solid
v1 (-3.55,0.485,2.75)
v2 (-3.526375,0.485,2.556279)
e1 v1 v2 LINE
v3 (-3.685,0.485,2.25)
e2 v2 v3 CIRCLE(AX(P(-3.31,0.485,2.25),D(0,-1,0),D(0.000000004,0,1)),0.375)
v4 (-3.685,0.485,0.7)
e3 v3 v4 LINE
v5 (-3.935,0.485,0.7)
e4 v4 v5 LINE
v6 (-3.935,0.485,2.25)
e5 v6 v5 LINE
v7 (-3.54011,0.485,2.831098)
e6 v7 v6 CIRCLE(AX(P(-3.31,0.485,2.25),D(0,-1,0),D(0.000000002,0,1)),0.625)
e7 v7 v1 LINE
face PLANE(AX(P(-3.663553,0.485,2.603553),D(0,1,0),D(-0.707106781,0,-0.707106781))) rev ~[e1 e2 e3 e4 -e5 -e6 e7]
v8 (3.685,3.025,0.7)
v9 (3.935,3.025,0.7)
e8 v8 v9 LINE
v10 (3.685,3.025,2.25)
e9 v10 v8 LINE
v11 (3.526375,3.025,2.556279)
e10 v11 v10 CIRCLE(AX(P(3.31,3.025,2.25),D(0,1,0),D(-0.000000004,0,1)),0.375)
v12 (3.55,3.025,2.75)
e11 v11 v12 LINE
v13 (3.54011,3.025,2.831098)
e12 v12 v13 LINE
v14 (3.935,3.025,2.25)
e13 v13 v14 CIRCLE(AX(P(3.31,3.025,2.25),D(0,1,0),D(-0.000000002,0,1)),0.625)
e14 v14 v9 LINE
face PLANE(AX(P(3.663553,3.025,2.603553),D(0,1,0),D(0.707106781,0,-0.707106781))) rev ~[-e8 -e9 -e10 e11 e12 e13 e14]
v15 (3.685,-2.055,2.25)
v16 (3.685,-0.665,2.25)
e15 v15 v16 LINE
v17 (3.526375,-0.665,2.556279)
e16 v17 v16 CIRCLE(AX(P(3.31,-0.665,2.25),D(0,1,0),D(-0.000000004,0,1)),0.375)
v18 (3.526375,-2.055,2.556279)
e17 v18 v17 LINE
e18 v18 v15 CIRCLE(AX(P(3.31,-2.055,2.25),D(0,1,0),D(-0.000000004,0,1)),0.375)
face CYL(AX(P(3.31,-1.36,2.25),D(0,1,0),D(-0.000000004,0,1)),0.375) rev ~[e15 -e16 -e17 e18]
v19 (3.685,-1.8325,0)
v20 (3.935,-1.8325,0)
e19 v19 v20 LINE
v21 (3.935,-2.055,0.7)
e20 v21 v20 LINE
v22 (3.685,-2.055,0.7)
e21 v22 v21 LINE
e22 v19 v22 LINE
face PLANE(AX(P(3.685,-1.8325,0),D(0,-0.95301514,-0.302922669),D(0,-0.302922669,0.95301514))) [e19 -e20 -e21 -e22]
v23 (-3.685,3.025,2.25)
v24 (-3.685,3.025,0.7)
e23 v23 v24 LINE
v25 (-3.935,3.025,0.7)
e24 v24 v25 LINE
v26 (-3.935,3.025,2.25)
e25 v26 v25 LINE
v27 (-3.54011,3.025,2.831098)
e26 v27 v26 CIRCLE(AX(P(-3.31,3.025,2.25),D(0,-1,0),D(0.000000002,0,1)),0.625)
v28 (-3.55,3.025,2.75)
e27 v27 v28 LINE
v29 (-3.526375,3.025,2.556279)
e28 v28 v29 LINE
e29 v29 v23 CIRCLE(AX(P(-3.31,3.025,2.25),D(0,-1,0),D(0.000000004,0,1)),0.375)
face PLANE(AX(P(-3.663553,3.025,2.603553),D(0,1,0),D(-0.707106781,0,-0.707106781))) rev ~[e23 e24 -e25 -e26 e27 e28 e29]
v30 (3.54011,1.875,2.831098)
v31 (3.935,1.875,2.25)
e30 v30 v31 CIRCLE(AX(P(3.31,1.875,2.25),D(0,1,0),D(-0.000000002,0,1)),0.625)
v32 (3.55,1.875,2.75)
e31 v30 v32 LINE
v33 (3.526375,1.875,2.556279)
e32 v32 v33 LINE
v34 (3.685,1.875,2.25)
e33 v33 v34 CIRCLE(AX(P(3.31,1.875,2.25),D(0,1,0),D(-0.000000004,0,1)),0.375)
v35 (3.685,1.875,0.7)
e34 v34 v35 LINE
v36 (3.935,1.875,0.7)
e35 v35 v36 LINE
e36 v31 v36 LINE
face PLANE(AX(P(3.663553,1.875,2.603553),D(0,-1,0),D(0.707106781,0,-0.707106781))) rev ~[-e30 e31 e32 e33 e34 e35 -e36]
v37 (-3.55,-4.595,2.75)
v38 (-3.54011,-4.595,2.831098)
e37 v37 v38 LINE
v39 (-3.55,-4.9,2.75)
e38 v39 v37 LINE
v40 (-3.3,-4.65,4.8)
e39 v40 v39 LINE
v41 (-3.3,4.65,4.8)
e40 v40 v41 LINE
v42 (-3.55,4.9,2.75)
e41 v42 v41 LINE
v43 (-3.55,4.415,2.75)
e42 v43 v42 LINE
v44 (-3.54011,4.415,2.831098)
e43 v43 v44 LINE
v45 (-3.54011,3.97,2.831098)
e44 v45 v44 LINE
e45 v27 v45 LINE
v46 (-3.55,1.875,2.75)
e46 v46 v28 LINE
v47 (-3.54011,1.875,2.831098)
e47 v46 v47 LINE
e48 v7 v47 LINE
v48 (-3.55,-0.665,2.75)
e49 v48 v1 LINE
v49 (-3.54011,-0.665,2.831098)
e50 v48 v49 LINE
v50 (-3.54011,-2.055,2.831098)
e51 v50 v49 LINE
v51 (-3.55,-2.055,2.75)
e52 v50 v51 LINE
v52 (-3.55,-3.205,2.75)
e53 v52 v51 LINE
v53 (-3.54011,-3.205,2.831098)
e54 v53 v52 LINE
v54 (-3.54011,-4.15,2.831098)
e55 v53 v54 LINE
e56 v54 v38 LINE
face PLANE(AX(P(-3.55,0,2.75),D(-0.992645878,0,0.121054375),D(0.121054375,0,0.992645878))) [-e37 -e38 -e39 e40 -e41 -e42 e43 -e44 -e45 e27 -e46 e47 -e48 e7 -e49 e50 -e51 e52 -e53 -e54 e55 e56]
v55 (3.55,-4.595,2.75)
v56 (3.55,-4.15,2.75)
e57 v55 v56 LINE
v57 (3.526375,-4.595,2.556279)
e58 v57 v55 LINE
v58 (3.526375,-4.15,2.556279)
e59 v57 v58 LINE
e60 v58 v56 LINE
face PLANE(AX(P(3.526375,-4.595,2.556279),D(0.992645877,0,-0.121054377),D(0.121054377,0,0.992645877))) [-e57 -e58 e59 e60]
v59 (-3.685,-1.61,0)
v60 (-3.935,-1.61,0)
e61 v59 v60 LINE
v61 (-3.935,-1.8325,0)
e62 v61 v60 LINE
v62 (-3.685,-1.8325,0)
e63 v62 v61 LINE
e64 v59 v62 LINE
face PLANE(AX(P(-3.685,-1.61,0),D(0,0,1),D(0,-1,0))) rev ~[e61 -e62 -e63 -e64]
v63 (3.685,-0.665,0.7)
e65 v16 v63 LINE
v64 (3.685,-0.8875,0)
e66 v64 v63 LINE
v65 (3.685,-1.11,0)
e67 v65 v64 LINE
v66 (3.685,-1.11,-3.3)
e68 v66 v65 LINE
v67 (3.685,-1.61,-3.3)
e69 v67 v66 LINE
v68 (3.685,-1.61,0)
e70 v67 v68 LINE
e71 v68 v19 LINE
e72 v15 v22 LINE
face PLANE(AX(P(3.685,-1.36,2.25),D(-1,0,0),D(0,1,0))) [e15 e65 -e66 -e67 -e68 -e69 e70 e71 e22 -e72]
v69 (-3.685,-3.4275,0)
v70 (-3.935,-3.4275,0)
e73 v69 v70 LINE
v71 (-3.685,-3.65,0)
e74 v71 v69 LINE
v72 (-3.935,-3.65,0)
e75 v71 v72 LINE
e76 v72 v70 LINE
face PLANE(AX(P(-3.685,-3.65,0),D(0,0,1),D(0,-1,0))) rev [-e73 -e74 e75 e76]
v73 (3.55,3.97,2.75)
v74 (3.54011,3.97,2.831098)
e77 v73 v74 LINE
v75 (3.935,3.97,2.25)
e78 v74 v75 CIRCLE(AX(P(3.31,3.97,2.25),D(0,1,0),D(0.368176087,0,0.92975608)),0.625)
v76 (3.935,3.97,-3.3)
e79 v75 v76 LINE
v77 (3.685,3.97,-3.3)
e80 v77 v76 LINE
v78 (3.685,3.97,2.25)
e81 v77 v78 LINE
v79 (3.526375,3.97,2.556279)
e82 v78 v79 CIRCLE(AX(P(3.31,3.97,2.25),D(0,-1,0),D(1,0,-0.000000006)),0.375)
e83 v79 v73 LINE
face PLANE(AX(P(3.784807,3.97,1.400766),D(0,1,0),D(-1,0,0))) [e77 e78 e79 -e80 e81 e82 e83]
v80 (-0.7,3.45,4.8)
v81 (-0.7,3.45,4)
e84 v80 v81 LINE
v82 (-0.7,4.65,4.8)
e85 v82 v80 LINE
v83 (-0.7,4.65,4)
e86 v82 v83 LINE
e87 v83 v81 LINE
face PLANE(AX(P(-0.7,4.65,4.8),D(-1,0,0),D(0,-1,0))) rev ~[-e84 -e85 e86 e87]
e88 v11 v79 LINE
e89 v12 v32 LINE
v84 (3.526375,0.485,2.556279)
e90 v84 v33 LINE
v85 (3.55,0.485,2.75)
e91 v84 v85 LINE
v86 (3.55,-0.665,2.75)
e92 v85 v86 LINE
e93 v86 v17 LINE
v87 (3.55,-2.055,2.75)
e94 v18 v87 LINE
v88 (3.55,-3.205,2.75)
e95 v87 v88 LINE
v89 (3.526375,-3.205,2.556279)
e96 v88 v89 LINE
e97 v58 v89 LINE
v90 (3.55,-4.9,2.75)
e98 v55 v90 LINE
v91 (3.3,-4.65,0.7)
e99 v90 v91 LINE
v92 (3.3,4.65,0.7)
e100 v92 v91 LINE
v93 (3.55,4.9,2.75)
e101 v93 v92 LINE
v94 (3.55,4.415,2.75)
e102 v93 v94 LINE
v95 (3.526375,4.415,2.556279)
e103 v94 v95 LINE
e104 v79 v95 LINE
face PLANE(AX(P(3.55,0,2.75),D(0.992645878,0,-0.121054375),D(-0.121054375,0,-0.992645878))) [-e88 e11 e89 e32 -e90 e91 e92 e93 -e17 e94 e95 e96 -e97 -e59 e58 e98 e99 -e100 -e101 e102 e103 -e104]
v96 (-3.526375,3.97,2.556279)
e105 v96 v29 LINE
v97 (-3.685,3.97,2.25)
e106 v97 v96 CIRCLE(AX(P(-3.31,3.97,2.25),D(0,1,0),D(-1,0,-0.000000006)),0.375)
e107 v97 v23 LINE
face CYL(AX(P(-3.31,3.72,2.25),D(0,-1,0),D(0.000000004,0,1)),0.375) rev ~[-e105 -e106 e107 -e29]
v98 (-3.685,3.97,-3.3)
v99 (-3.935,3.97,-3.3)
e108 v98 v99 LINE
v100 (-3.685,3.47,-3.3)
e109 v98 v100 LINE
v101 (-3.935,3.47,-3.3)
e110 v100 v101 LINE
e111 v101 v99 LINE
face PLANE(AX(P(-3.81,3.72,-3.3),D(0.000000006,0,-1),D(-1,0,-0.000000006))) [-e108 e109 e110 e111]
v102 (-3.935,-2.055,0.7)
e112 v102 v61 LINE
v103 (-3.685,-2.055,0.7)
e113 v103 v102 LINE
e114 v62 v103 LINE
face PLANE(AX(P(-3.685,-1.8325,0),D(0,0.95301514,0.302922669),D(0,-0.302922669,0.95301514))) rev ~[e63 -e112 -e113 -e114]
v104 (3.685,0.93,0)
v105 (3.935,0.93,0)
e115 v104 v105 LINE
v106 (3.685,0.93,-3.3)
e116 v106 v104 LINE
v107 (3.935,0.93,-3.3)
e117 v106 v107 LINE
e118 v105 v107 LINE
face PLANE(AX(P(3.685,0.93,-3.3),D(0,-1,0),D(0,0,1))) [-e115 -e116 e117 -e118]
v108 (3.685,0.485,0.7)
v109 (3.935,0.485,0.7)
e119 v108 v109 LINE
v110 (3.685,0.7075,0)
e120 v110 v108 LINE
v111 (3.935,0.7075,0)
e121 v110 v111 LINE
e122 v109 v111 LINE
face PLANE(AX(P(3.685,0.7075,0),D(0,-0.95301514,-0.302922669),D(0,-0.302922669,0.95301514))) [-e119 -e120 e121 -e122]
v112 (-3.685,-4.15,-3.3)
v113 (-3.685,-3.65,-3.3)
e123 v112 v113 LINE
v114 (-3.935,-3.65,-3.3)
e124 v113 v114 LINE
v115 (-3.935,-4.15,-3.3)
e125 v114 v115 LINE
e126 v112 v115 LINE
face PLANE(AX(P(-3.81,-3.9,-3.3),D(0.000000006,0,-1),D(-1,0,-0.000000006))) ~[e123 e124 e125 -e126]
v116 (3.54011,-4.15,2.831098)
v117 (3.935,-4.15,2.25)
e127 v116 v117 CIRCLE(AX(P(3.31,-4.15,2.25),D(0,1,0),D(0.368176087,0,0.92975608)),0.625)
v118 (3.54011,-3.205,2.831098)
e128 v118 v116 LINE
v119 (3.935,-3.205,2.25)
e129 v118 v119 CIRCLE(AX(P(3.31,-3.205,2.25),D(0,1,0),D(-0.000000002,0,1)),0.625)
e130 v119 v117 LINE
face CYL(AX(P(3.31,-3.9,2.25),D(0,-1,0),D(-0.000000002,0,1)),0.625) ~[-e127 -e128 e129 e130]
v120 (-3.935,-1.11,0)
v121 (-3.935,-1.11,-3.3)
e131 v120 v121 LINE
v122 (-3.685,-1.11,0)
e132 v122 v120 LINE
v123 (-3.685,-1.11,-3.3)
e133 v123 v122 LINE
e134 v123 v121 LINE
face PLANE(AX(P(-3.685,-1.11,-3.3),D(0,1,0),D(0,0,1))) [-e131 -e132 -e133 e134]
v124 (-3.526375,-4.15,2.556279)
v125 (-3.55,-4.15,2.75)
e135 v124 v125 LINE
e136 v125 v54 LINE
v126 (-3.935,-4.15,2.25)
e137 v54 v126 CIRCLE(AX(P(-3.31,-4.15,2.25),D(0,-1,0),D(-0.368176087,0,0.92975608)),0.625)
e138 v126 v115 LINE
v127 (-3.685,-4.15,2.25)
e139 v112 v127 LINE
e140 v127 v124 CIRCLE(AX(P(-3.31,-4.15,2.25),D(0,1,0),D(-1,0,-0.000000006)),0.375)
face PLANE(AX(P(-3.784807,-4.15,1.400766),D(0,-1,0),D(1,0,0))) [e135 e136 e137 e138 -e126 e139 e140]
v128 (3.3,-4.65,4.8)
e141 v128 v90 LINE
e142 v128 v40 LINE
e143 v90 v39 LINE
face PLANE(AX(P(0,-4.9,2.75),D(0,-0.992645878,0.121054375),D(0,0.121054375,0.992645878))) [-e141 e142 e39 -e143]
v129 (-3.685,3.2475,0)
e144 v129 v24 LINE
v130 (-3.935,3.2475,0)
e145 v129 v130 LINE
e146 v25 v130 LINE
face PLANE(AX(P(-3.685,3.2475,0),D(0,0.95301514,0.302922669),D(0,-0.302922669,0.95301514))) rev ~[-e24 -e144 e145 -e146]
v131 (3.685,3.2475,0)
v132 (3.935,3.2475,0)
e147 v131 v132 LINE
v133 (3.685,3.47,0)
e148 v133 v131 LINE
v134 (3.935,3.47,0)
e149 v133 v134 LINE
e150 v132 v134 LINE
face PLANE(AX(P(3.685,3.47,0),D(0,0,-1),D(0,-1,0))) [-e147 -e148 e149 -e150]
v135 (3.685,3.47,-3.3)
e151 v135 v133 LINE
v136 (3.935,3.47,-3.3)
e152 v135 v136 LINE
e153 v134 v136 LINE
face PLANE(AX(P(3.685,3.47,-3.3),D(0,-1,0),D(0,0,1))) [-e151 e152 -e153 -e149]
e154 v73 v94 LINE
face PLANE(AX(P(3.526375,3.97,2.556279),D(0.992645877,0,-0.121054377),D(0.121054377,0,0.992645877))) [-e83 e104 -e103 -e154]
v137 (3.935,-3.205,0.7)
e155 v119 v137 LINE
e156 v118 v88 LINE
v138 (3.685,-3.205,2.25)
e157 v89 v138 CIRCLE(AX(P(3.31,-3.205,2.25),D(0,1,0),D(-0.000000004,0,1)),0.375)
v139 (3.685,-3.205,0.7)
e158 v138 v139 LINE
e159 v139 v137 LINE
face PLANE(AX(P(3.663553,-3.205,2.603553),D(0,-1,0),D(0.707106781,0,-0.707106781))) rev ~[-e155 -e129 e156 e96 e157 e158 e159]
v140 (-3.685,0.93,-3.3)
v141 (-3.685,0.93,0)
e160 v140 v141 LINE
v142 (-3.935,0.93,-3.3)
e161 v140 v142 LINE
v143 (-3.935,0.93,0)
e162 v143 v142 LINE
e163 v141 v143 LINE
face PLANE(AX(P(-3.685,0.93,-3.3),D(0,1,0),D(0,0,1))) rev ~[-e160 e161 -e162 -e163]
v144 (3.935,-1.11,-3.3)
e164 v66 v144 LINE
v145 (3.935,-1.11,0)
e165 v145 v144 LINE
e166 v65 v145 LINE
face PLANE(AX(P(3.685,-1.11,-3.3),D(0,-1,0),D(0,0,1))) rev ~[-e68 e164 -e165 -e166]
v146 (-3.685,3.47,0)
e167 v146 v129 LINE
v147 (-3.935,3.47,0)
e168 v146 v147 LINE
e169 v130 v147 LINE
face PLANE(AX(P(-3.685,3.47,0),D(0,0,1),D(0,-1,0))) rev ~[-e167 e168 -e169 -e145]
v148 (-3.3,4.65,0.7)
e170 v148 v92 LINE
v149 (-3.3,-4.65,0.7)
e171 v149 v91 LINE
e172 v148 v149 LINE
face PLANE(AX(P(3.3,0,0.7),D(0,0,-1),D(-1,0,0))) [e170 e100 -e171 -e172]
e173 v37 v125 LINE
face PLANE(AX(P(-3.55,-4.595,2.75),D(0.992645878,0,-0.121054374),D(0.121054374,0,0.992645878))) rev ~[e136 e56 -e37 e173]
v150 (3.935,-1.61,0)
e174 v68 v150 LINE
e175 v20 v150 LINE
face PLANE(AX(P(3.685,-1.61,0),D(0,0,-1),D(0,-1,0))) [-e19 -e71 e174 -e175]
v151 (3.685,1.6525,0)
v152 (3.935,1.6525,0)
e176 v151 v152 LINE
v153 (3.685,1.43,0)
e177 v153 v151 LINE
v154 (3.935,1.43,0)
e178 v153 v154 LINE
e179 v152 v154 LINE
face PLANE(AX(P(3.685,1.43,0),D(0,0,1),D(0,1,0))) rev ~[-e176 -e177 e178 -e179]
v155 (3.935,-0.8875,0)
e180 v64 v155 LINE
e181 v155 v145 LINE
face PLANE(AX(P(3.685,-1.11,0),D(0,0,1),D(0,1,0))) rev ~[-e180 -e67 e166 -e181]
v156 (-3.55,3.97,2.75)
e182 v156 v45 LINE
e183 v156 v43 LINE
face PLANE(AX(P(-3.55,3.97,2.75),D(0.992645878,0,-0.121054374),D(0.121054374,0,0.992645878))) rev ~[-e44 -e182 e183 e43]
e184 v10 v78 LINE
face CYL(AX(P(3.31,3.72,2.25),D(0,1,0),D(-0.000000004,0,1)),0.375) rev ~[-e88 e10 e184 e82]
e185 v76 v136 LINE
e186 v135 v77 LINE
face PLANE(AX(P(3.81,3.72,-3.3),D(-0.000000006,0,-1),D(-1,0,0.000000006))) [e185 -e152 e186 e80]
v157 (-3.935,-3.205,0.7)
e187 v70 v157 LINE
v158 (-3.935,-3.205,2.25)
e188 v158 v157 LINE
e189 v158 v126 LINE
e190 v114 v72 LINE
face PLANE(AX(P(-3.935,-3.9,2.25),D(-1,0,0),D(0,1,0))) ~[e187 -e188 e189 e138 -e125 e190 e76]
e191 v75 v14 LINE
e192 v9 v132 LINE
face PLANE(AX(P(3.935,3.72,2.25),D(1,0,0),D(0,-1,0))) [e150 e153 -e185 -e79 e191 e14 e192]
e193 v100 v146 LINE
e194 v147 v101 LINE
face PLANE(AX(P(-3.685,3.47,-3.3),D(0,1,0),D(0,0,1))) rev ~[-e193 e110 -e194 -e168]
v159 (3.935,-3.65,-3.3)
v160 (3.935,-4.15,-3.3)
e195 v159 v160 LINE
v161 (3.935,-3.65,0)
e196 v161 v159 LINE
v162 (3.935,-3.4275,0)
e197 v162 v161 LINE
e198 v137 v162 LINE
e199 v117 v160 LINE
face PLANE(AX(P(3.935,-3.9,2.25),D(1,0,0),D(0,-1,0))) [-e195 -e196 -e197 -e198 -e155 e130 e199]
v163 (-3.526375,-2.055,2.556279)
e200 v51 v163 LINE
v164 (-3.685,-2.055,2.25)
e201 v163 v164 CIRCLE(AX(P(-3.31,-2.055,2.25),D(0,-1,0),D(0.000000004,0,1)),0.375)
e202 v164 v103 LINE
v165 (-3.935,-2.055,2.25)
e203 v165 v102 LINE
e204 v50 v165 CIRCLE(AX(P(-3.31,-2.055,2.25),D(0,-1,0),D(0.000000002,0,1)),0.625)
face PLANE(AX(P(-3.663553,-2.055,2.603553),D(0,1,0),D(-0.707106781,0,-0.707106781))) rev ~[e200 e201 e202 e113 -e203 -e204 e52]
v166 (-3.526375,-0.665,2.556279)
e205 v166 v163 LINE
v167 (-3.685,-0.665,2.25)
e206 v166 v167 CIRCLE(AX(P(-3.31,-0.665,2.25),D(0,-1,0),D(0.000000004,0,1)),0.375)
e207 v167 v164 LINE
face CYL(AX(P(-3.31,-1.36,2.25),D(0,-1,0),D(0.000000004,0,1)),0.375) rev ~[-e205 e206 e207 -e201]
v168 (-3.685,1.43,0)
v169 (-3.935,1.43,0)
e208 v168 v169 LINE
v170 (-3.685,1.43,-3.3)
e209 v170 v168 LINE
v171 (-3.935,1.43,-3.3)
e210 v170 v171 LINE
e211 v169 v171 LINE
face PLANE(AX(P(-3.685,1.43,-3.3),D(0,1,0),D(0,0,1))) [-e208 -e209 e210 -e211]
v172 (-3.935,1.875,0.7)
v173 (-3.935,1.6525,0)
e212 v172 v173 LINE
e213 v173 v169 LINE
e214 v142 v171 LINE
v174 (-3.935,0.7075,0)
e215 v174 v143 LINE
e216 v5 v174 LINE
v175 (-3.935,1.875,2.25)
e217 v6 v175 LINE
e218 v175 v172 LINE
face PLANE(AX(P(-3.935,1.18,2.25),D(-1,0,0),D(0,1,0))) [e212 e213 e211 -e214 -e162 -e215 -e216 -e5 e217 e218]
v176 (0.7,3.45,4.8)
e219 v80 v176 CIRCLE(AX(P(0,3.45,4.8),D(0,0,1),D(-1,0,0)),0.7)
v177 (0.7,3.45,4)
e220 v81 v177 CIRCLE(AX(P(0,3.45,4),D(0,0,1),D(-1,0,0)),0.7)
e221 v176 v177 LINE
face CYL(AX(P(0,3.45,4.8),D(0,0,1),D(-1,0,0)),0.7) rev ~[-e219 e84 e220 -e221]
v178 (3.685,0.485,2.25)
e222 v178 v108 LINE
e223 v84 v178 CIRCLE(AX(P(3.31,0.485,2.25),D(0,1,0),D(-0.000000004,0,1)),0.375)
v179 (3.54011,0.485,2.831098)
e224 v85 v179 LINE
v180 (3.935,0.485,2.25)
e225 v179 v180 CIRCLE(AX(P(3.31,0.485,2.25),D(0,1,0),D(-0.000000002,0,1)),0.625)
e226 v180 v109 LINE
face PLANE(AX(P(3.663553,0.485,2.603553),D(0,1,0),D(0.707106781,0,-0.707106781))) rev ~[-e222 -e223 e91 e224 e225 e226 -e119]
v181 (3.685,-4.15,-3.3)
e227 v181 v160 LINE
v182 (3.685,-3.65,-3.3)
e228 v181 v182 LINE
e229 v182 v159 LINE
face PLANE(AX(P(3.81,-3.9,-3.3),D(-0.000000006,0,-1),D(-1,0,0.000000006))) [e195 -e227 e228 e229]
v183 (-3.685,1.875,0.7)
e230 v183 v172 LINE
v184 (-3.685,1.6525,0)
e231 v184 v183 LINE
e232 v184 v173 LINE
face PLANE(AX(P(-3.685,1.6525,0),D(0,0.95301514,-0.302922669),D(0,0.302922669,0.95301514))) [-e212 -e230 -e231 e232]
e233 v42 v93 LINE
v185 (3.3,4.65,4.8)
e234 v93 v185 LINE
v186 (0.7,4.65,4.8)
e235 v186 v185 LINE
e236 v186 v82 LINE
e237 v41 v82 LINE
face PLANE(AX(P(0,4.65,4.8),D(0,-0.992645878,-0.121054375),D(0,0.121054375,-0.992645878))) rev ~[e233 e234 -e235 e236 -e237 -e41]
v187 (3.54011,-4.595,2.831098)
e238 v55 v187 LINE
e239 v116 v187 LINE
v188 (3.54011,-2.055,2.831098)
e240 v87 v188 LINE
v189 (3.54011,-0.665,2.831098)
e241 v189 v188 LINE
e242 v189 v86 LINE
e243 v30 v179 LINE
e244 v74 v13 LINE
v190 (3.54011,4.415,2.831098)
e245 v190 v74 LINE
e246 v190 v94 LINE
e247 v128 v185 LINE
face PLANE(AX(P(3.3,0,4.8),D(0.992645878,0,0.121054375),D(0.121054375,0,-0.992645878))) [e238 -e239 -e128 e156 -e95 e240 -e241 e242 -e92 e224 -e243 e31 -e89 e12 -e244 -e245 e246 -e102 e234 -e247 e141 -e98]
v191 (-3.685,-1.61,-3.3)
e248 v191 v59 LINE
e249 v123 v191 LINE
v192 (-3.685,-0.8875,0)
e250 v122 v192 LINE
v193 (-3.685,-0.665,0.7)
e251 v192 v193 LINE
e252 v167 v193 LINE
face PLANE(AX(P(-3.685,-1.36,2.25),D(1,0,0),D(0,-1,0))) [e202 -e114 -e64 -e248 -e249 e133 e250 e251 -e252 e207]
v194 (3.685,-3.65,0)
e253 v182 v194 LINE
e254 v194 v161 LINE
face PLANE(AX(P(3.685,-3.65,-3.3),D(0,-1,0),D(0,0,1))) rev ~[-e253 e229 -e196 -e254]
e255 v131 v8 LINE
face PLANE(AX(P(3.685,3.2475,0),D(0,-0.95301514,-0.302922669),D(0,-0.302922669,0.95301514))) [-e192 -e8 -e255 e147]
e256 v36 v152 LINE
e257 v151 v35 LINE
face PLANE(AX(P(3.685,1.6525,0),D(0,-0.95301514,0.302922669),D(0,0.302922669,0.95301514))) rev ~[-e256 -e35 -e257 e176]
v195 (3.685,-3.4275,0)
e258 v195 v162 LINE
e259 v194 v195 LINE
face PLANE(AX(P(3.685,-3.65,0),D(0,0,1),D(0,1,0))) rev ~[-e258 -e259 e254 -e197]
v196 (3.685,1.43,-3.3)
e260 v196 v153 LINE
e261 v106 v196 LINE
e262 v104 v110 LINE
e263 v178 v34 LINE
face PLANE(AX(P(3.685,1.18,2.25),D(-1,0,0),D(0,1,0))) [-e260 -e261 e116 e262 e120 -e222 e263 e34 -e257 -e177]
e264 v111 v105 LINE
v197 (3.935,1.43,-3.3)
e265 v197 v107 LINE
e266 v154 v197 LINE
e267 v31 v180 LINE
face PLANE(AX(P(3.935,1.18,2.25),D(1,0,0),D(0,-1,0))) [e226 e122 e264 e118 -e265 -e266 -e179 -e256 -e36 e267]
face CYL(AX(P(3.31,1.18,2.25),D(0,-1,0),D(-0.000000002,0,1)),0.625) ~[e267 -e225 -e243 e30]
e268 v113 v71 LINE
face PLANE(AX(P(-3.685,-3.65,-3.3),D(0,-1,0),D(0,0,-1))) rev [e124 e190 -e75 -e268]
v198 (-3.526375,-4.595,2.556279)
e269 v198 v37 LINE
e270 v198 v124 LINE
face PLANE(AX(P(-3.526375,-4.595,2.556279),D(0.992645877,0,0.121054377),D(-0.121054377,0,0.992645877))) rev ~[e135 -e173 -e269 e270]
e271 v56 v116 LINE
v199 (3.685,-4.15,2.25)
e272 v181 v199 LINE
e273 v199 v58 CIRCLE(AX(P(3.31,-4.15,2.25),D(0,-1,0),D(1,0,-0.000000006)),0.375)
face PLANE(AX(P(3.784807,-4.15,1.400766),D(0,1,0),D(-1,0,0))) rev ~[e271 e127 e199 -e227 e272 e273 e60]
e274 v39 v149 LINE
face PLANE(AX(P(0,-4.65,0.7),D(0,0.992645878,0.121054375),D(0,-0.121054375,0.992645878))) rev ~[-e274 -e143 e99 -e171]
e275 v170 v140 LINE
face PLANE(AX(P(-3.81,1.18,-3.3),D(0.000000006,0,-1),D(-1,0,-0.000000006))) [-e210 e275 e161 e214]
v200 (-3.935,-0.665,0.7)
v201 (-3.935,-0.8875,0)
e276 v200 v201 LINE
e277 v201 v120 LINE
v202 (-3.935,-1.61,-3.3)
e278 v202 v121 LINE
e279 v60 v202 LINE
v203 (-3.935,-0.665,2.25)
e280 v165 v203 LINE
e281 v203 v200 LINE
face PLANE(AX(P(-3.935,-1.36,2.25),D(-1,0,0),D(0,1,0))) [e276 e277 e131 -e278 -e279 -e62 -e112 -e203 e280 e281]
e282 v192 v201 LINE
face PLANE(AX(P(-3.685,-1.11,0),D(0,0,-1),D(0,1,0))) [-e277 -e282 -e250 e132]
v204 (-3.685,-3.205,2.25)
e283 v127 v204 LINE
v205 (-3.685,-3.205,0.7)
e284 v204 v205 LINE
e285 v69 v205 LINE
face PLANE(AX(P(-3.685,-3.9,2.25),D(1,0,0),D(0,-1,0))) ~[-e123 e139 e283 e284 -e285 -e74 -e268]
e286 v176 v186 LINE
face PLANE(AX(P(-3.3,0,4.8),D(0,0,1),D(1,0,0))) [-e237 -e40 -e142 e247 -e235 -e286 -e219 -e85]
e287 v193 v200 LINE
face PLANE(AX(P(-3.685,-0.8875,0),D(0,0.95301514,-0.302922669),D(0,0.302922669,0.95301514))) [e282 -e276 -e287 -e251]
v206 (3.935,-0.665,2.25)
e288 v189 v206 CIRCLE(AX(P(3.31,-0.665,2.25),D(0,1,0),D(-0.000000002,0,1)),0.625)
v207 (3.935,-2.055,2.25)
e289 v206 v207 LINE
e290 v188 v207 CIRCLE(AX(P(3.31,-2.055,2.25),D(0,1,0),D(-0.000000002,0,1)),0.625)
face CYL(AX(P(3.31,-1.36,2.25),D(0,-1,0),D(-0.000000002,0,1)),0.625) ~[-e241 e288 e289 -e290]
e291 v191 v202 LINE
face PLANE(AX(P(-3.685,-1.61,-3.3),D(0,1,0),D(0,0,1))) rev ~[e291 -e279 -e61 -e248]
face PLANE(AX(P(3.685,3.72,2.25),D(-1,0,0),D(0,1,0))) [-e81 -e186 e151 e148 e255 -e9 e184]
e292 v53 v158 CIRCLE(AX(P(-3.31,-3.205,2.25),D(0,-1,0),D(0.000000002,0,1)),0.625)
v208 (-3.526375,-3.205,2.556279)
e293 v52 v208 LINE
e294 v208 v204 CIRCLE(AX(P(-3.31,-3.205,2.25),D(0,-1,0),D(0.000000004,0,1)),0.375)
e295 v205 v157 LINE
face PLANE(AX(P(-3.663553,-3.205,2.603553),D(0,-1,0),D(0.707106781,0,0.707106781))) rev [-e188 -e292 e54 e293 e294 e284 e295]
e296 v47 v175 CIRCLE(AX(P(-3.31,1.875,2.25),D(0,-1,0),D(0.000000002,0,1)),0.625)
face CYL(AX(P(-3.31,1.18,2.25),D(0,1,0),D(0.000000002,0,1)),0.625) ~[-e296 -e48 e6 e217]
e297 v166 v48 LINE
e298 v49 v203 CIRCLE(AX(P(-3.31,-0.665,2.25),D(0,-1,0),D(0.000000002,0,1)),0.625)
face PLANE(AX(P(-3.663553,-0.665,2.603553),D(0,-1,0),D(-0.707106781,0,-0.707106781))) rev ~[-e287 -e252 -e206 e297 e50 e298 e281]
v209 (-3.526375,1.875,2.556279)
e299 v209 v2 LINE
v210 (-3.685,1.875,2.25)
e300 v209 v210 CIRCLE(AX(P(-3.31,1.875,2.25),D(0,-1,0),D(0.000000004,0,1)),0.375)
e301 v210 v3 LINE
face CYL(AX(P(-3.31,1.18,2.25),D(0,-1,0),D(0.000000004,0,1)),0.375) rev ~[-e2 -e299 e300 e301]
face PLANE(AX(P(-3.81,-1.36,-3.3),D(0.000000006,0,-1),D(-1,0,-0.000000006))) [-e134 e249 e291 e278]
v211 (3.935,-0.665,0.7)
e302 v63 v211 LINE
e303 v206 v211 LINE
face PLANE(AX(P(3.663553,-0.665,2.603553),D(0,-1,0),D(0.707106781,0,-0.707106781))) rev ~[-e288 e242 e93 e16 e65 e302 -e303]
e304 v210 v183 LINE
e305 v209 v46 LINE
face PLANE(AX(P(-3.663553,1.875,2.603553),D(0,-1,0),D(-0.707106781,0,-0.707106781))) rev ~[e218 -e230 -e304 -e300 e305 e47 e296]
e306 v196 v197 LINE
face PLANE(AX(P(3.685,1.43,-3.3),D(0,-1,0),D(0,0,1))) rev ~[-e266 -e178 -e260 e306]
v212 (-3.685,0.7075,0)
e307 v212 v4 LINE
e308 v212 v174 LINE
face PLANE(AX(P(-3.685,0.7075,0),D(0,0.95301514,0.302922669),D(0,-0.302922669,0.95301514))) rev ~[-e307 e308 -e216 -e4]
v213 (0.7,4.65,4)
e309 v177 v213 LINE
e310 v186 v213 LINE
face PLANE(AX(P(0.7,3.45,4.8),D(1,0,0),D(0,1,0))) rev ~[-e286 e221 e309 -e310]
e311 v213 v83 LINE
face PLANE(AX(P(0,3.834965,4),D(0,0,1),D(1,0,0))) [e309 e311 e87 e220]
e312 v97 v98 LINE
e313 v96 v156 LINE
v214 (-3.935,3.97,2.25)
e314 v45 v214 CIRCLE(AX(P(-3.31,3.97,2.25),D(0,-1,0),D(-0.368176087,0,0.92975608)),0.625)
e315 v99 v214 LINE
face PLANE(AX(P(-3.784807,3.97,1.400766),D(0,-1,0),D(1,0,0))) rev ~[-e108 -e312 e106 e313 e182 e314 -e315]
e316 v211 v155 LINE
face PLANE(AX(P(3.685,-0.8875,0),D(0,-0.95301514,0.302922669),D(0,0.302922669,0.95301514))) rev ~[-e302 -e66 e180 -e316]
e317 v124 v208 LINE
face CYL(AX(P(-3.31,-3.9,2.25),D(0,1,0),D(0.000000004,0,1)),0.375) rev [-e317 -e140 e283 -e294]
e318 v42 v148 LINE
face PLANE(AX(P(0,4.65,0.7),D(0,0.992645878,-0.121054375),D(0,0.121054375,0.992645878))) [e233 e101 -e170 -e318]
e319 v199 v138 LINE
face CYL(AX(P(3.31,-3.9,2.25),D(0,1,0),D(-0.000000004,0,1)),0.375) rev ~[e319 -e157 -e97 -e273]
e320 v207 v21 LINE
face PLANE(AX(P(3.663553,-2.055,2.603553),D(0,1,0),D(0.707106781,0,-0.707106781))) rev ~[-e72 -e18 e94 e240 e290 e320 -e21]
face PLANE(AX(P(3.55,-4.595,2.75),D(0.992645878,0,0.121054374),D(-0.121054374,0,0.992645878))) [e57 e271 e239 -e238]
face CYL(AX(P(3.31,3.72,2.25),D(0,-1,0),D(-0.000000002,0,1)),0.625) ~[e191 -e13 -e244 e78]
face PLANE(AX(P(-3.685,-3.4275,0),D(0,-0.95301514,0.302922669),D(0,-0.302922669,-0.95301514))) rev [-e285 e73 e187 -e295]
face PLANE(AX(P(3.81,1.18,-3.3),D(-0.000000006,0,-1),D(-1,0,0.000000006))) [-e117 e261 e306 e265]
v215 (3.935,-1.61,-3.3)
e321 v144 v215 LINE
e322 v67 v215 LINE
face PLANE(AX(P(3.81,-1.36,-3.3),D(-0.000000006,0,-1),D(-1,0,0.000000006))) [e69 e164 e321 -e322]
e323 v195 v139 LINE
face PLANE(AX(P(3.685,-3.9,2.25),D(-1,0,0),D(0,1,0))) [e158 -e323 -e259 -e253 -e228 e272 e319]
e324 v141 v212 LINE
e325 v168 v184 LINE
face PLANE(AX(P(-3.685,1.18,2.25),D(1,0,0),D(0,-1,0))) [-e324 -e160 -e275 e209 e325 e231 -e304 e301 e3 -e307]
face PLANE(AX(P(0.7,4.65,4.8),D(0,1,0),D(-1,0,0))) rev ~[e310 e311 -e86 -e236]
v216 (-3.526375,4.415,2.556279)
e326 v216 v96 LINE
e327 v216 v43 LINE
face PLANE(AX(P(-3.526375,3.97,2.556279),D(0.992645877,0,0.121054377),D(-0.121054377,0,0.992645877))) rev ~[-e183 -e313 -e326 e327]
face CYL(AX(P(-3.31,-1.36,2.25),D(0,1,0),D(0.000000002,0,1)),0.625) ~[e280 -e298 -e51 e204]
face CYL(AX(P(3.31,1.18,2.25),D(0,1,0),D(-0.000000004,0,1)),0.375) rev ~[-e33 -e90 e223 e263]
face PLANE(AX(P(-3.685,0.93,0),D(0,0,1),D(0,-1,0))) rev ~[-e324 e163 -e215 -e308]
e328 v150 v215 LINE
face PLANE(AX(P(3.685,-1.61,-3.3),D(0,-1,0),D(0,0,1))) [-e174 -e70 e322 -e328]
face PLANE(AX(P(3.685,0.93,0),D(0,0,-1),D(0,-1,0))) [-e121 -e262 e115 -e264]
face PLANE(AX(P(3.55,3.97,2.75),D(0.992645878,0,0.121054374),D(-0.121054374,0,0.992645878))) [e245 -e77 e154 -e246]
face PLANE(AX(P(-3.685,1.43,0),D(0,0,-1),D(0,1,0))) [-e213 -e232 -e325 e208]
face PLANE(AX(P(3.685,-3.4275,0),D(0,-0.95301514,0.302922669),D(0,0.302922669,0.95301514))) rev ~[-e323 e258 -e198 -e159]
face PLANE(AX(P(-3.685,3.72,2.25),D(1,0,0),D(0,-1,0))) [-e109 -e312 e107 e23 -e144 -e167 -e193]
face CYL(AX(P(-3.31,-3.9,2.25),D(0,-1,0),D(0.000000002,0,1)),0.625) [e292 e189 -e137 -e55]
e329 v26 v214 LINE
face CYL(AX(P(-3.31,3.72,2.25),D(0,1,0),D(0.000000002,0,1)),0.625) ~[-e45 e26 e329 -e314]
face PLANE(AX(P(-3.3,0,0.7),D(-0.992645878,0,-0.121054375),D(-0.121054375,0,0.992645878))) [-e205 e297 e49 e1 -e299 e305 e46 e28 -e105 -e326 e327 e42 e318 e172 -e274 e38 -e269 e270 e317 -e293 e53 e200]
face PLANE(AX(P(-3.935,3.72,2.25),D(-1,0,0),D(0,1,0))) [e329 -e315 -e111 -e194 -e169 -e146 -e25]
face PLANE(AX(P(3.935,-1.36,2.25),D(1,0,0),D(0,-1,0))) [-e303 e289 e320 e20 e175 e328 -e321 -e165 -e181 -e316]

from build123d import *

# Parameters (mm, degrees)
BASIC_SHAPE_DEPTH              = 4.9
SIDE_PROFILE1_DEPTH            = 4.55
SIDE_PROFILE1_DEPTH_BACK       = 4.55
SIDE_PROFILE2_DEPTH            = 4.55
SIDE_PROFILE2_DEPTH_BACK       = 4.55
LOCATION_MARK_DEPTH            = 0.8
SKETCH6_W                      = 0.25
SKETCH6_H                      = 1.39
PIN_RELIEF_DEPTH               = 1.25
REMAINING_PINS_COUNT           = 4
REMAINING_PINS_PITCH           = 2.54
REMAINING_PINS_COPY_1_SKETCH_W = 0.25
REMAINING_PINS_COPY_1_SKETCH_H = 1.39
REMAINING_PINS_COPY_2_SKETCH_W = 0.25
REMAINING_PINS_COPY_2_SKETCH_H = 1.39
REMAINING_PINS_COPY_3_SKETCH_W = 0.25
REMAINING_PINS_COPY_3_SKETCH_H = 1.39
REMAINING_PINS_COPY_4_DEPTH    = 1.25
REMAINING_PINS_COPY_5_DEPTH    = 1.25
REMAINING_PINS_COPY_6_DEPTH    = 1.25
PIN_SHAPE1_DEPTH               = 0.445
PIN_START                      = -0.445
PIN_SHAPE2_DEPTH               = 0.445


with BuildPart() as part:
    # Sketch1 → Basic Shape (new body, symmetric)
    with BuildSketch(Plane(origin=(0, 0, 0), x_dir=(1, 0, 0), z_dir=(0, 1, 0))):
        Polygon((-3.3, -0.7), (-3.55, -2.75), (-3.3, -4.8), (3.3, -4.8), (3.55, -2.75), (3.3, -0.7), align=None)
    extrude(amount=BASIC_SHAPE_DEPTH, both=True)

    # Sketch2 → Side Profile1 (cut, two sides)
    with BuildSketch(Plane(origin=(0, 0, 0), x_dir=(0, 0, -1), z_dir=(1, 0, 0))) as side_profile1_sk:
        Polygon((-4.8, 4.9), (-4.8, 4.65), (-2.75, 4.9), align=None)
        Polygon((-4.8, -4.9), (-2.75, -4.9), (-4.8, -4.65), align=None)
    extrude(amount=SIDE_PROFILE1_DEPTH, mode=Mode.SUBTRACT)
    extrude(side_profile1_sk.sketch, amount=-SIDE_PROFILE1_DEPTH_BACK, mode=Mode.SUBTRACT)

    # Sketch3 → Side Profile2 (cut, two sides)
    with BuildSketch(Plane(origin=(0, 0, 0), x_dir=(0, 0, -1), z_dir=(1, 0, 0))) as side_profile2_sk:
        Polygon((-2.75, 4.9), (-0.7, 4.9), (-0.7, 4.65), align=None)
        Polygon((-2.75, -4.9), (-0.7, -4.9), (-0.7, -4.65), align=None)
    extrude(amount=SIDE_PROFILE2_DEPTH, mode=Mode.SUBTRACT)
    extrude(side_profile2_sk.sketch, amount=-SIDE_PROFILE2_DEPTH_BACK, mode=Mode.SUBTRACT)

    # Sketch4 → Location Mark (cut)
    with BuildSketch(Plane(origin=(0, 0, 4.8), x_dir=(-1, 0, 0), z_dir=(0, 0, -1))):
        with BuildLine():
            Line((0.7, 4.65), (0.7, 3.45))
            ThreePointArc((0.7, 3.45), (0, 2.75), (-0.7, 3.45))
            Line((-0.7, 3.45), (-0.7, 4.65))
            Line((-0.7, 4.65), (0.7, 4.65))
        make_face()
    extrude(amount=LOCATION_MARK_DEPTH, mode=Mode.SUBTRACT)

    # First Pin: sweep along a path in Sketch5
    with BuildLine(Plane(origin=(0, -3.9, 0), x_dir=(1, 0, 0), z_dir=(0, 1, 0))) as first_pin_path:
        Line((0, -2.75), (3.31, -2.75))
        ThreePointArc((3.31, -2.75), (3.663553391, -2.603553391), (3.81, -2.25))
        Line((3.81, -2.25), (3.81, 3.3))
    # Sketch6 → First Pin (sweep)
    with BuildSketch(Plane(origin=(0, 0, 0), x_dir=(0, 0, -1), z_dir=(1, 0, 0))):
        with Locations((-2.75, -3.9)):
            Rectangle(SKETCH6_W, SKETCH6_H)
    first_pin = sweep(path=first_pin_path.line)

    # Sketch7 → Pin Relief (cut, through all)
    with BuildSketch(Plane.ZY.offset(-3.685)):
        Polygon((-3.3, -4.15), (0, -4.15), (0, -4.3725), (0.7, -4.595), (-3.3, -4.595), align=None)
        Polygon((-3.3, -3.65), (0, -3.65), (0, -3.4275), (0.7, -3.205), (-3.3, -3.205), align=None)
    pin_relief = extrude(amount=-PIN_RELIEF_DEPTH, mode=Mode.SUBTRACT)

    # Opp Pin: First Pin, Pin Relief across plane
    add(first_pin.mirror(Plane(origin=(0, 0, 0), x_dir=(0, 0, 1), z_dir=(1, 0, 0))))
    add(pin_relief.mirror(Plane(origin=(0, 0, 0), x_dir=(0, 0, 1), z_dir=(1, 0, 0))), mode=Mode.SUBTRACT)

    # Remaining Pins: First Pin, Pin Relief ×4
    with Locations(*[(0, i * REMAINING_PINS_PITCH, 0) for i in range(1, REMAINING_PINS_COUNT)]):
        add(first_pin)
        add(pin_relief, mode=Mode.SUBTRACT)

    # Remaining Pins copy 1: sweep along a path in Remaining Pins copy 1 path
    with BuildLine(Plane(origin=(0, -1.36, 0), x_dir=(-1, 0, 0), z_dir=(0, 1, 0))) as remaining_pins_copy_1_path:
        Line((0, 2.75), (3.31, 2.75))
        ThreePointArc((3.31, 2.75), (3.663553391, 2.603553391), (3.81, 2.25))
        Line((3.81, 2.25), (3.81, -3.3))
    # Remaining Pins copy 1 sketch → Remaining Pins copy 1 (sweep)
    with BuildSketch(Plane(origin=(0, 2.54, 0), x_dir=(0, 0, -1), z_dir=(-1, 0, 0))):
        with Locations((-2.75, 3.9)):
            Rectangle(REMAINING_PINS_COPY_1_SKETCH_W, REMAINING_PINS_COPY_1_SKETCH_H)
    sweep(path=remaining_pins_copy_1_path.line)

    # Remaining Pins copy 2: sweep along a path in Remaining Pins copy 2 path
    with BuildLine(Plane(origin=(0, 1.18, 0), x_dir=(-1, 0, 0), z_dir=(0, 1, 0))) as remaining_pins_copy_2_path:
        Line((0, 2.75), (3.31, 2.75))
        ThreePointArc((3.31, 2.75), (3.663553391, 2.603553391), (3.81, 2.25))
        Line((3.81, 2.25), (3.81, -3.3))
    # Remaining Pins copy 2 sketch → Remaining Pins copy 2 (sweep)
    with BuildSketch(Plane(origin=(0, 5.08, 0), x_dir=(0, 0, -1), z_dir=(-1, 0, 0))):
        with Locations((-2.75, 3.9)):
            Rectangle(REMAINING_PINS_COPY_2_SKETCH_W, REMAINING_PINS_COPY_2_SKETCH_H)
    sweep(path=remaining_pins_copy_2_path.line)

    # Remaining Pins copy 3: sweep along a path in Remaining Pins copy 3 path
    with BuildLine(Plane(origin=(0, 3.72, 0), x_dir=(-1, 0, 0), z_dir=(0, 1, 0))) as remaining_pins_copy_3_path:
        Line((0, 2.75), (3.31, 2.75))
        ThreePointArc((3.31, 2.75), (3.663553391, 2.603553391), (3.81, 2.25))
        Line((3.81, 2.25), (3.81, -3.3))
    # Remaining Pins copy 3 sketch → Remaining Pins copy 3 (sweep)
    with BuildSketch(Plane(origin=(0, 7.62, 0), x_dir=(0, 0, -1), z_dir=(-1, 0, 0))):
        with Locations((-2.75, 3.9)):
            Rectangle(REMAINING_PINS_COPY_3_SKETCH_W, REMAINING_PINS_COPY_3_SKETCH_H)
    sweep(path=remaining_pins_copy_3_path.line)

    # Remaining Pins copy 4 sketch → Remaining Pins copy 4 (cut, through all)
    with BuildSketch(Plane(origin=(-3.685, 2.54, 0), x_dir=(0, 0, 1), z_dir=(1, 0, 0))):
        Polygon((-3.3, 4.15), (0, 4.15), (0, 4.3725), (0.7, 4.595), (-3.3, 4.595), align=None)
        Polygon((-3.3, 3.65), (0, 3.65), (0, 3.4275), (0.7, 3.205), (-3.3, 3.205), align=None)
    extrude(amount=-REMAINING_PINS_COPY_4_DEPTH, mode=Mode.SUBTRACT)

    # Remaining Pins copy 5 sketch → Remaining Pins copy 5 (cut, through all)
    with BuildSketch(Plane(origin=(-3.685, 5.08, 0), x_dir=(0, 0, 1), z_dir=(1, 0, 0))):
        Polygon((-3.3, 4.15), (0, 4.15), (0, 4.3725), (0.7, 4.595), (-3.3, 4.595), align=None)
        Polygon((-3.3, 3.65), (0, 3.65), (0, 3.4275), (0.7, 3.205), (-3.3, 3.205), align=None)
    extrude(amount=-REMAINING_PINS_COPY_5_DEPTH, mode=Mode.SUBTRACT)

    # Remaining Pins copy 6 sketch → Remaining Pins copy 6 (cut, through all)
    with BuildSketch(Plane(origin=(-3.685, 7.62, 0), x_dir=(0, 0, 1), z_dir=(1, 0, 0))):
        Polygon((-3.3, 4.15), (0, 4.15), (0, 4.3725), (0.7, 4.595), (-3.3, 4.595), align=None)
        Polygon((-3.3, 3.65), (0, 3.65), (0, 3.4275), (0.7, 3.205), (-3.3, 3.205), align=None)
    extrude(amount=-REMAINING_PINS_COPY_6_DEPTH, mode=Mode.SUBTRACT)

    # Sketch9 → Pin Shape1 (cut)
    with BuildSketch(Plane.XZ.offset(4.595)):
        with BuildLine():
            Line((3.935, 0), (3.685, 0))
            Line((3.685, 0), (3.685, 2.25))
            ThreePointArc((3.685, 2.25), (3.642990838, 2.422458987), (3.526375455, 2.556278733))
            Line((3.526375455, 2.556278733), (3.55, 2.75))
            Line((3.55, 2.75), (3.540110055, 2.83109755))
            ThreePointArc((3.540110055, 2.83109755), (3.826935095, 2.601287785), (3.935, 2.25))
            Line((3.935, 2.25), (3.935, 0))
        make_face()
        with BuildLine():
            Line((-3.935, 0), (-3.685, 0))
            Line((-3.685, 0), (-3.685, 2.25))
            ThreePointArc((-3.685, 2.25), (-3.642990838, 2.422458987), (-3.526375455, 2.556278733))
            Line((-3.526375455, 2.556278733), (-3.55, 2.75))
            Line((-3.55, 2.75), (-3.540110055, 2.83109755))
            ThreePointArc((-3.540110055, 2.83109755), (-3.826935095, 2.601287785), (-3.935, 2.25))
            Line((-3.935, 2.25), (-3.935, 0))
        make_face()
    extrude(amount=-PIN_SHAPE1_DEPTH, mode=Mode.SUBTRACT)

    # Sketch10 → Pin Shape2 (cut)
    with BuildSketch(Plane(origin=(0, 4.415, 0), x_dir=(-1, 0, 0), z_dir=(0, 1, 0)).offset(PIN_START)):
        with BuildLine():
            Line((-3.935, 0), (-3.685, 0))
            Line((-3.685, 0), (-3.685, 2.25))
            ThreePointArc((-3.685, 2.25), (-3.642990838, 2.422458987), (-3.526375455, 2.556278733))
            Line((-3.526375455, 2.556278733), (-3.55, 2.75))
            Line((-3.55, 2.75), (-3.540110055, 2.83109755))
            ThreePointArc((-3.540110055, 2.83109755), (-3.826935095, 2.601287785), (-3.935, 2.25))
            Line((-3.935, 2.25), (-3.935, 0))
        make_face()
        with BuildLine():
            Line((3.935, 0), (3.685, 0))
            Line((3.685, 0), (3.685, 2.25))
            ThreePointArc((3.685, 2.25), (3.642990838, 2.422458987), (3.526375455, 2.556278733))
            Line((3.526375455, 2.556278733), (3.55, 2.75))
            Line((3.55, 2.75), (3.540110055, 2.83109755))
            ThreePointArc((3.540110055, 2.83109755), (3.826935095, 2.601287785), (3.935, 2.25))
            Line((3.935, 2.25), (3.935, 0))
        make_face()
    extrude(amount=PIN_SHAPE2_DEPTH, mode=Mode.SUBTRACT)


solid = part.part
